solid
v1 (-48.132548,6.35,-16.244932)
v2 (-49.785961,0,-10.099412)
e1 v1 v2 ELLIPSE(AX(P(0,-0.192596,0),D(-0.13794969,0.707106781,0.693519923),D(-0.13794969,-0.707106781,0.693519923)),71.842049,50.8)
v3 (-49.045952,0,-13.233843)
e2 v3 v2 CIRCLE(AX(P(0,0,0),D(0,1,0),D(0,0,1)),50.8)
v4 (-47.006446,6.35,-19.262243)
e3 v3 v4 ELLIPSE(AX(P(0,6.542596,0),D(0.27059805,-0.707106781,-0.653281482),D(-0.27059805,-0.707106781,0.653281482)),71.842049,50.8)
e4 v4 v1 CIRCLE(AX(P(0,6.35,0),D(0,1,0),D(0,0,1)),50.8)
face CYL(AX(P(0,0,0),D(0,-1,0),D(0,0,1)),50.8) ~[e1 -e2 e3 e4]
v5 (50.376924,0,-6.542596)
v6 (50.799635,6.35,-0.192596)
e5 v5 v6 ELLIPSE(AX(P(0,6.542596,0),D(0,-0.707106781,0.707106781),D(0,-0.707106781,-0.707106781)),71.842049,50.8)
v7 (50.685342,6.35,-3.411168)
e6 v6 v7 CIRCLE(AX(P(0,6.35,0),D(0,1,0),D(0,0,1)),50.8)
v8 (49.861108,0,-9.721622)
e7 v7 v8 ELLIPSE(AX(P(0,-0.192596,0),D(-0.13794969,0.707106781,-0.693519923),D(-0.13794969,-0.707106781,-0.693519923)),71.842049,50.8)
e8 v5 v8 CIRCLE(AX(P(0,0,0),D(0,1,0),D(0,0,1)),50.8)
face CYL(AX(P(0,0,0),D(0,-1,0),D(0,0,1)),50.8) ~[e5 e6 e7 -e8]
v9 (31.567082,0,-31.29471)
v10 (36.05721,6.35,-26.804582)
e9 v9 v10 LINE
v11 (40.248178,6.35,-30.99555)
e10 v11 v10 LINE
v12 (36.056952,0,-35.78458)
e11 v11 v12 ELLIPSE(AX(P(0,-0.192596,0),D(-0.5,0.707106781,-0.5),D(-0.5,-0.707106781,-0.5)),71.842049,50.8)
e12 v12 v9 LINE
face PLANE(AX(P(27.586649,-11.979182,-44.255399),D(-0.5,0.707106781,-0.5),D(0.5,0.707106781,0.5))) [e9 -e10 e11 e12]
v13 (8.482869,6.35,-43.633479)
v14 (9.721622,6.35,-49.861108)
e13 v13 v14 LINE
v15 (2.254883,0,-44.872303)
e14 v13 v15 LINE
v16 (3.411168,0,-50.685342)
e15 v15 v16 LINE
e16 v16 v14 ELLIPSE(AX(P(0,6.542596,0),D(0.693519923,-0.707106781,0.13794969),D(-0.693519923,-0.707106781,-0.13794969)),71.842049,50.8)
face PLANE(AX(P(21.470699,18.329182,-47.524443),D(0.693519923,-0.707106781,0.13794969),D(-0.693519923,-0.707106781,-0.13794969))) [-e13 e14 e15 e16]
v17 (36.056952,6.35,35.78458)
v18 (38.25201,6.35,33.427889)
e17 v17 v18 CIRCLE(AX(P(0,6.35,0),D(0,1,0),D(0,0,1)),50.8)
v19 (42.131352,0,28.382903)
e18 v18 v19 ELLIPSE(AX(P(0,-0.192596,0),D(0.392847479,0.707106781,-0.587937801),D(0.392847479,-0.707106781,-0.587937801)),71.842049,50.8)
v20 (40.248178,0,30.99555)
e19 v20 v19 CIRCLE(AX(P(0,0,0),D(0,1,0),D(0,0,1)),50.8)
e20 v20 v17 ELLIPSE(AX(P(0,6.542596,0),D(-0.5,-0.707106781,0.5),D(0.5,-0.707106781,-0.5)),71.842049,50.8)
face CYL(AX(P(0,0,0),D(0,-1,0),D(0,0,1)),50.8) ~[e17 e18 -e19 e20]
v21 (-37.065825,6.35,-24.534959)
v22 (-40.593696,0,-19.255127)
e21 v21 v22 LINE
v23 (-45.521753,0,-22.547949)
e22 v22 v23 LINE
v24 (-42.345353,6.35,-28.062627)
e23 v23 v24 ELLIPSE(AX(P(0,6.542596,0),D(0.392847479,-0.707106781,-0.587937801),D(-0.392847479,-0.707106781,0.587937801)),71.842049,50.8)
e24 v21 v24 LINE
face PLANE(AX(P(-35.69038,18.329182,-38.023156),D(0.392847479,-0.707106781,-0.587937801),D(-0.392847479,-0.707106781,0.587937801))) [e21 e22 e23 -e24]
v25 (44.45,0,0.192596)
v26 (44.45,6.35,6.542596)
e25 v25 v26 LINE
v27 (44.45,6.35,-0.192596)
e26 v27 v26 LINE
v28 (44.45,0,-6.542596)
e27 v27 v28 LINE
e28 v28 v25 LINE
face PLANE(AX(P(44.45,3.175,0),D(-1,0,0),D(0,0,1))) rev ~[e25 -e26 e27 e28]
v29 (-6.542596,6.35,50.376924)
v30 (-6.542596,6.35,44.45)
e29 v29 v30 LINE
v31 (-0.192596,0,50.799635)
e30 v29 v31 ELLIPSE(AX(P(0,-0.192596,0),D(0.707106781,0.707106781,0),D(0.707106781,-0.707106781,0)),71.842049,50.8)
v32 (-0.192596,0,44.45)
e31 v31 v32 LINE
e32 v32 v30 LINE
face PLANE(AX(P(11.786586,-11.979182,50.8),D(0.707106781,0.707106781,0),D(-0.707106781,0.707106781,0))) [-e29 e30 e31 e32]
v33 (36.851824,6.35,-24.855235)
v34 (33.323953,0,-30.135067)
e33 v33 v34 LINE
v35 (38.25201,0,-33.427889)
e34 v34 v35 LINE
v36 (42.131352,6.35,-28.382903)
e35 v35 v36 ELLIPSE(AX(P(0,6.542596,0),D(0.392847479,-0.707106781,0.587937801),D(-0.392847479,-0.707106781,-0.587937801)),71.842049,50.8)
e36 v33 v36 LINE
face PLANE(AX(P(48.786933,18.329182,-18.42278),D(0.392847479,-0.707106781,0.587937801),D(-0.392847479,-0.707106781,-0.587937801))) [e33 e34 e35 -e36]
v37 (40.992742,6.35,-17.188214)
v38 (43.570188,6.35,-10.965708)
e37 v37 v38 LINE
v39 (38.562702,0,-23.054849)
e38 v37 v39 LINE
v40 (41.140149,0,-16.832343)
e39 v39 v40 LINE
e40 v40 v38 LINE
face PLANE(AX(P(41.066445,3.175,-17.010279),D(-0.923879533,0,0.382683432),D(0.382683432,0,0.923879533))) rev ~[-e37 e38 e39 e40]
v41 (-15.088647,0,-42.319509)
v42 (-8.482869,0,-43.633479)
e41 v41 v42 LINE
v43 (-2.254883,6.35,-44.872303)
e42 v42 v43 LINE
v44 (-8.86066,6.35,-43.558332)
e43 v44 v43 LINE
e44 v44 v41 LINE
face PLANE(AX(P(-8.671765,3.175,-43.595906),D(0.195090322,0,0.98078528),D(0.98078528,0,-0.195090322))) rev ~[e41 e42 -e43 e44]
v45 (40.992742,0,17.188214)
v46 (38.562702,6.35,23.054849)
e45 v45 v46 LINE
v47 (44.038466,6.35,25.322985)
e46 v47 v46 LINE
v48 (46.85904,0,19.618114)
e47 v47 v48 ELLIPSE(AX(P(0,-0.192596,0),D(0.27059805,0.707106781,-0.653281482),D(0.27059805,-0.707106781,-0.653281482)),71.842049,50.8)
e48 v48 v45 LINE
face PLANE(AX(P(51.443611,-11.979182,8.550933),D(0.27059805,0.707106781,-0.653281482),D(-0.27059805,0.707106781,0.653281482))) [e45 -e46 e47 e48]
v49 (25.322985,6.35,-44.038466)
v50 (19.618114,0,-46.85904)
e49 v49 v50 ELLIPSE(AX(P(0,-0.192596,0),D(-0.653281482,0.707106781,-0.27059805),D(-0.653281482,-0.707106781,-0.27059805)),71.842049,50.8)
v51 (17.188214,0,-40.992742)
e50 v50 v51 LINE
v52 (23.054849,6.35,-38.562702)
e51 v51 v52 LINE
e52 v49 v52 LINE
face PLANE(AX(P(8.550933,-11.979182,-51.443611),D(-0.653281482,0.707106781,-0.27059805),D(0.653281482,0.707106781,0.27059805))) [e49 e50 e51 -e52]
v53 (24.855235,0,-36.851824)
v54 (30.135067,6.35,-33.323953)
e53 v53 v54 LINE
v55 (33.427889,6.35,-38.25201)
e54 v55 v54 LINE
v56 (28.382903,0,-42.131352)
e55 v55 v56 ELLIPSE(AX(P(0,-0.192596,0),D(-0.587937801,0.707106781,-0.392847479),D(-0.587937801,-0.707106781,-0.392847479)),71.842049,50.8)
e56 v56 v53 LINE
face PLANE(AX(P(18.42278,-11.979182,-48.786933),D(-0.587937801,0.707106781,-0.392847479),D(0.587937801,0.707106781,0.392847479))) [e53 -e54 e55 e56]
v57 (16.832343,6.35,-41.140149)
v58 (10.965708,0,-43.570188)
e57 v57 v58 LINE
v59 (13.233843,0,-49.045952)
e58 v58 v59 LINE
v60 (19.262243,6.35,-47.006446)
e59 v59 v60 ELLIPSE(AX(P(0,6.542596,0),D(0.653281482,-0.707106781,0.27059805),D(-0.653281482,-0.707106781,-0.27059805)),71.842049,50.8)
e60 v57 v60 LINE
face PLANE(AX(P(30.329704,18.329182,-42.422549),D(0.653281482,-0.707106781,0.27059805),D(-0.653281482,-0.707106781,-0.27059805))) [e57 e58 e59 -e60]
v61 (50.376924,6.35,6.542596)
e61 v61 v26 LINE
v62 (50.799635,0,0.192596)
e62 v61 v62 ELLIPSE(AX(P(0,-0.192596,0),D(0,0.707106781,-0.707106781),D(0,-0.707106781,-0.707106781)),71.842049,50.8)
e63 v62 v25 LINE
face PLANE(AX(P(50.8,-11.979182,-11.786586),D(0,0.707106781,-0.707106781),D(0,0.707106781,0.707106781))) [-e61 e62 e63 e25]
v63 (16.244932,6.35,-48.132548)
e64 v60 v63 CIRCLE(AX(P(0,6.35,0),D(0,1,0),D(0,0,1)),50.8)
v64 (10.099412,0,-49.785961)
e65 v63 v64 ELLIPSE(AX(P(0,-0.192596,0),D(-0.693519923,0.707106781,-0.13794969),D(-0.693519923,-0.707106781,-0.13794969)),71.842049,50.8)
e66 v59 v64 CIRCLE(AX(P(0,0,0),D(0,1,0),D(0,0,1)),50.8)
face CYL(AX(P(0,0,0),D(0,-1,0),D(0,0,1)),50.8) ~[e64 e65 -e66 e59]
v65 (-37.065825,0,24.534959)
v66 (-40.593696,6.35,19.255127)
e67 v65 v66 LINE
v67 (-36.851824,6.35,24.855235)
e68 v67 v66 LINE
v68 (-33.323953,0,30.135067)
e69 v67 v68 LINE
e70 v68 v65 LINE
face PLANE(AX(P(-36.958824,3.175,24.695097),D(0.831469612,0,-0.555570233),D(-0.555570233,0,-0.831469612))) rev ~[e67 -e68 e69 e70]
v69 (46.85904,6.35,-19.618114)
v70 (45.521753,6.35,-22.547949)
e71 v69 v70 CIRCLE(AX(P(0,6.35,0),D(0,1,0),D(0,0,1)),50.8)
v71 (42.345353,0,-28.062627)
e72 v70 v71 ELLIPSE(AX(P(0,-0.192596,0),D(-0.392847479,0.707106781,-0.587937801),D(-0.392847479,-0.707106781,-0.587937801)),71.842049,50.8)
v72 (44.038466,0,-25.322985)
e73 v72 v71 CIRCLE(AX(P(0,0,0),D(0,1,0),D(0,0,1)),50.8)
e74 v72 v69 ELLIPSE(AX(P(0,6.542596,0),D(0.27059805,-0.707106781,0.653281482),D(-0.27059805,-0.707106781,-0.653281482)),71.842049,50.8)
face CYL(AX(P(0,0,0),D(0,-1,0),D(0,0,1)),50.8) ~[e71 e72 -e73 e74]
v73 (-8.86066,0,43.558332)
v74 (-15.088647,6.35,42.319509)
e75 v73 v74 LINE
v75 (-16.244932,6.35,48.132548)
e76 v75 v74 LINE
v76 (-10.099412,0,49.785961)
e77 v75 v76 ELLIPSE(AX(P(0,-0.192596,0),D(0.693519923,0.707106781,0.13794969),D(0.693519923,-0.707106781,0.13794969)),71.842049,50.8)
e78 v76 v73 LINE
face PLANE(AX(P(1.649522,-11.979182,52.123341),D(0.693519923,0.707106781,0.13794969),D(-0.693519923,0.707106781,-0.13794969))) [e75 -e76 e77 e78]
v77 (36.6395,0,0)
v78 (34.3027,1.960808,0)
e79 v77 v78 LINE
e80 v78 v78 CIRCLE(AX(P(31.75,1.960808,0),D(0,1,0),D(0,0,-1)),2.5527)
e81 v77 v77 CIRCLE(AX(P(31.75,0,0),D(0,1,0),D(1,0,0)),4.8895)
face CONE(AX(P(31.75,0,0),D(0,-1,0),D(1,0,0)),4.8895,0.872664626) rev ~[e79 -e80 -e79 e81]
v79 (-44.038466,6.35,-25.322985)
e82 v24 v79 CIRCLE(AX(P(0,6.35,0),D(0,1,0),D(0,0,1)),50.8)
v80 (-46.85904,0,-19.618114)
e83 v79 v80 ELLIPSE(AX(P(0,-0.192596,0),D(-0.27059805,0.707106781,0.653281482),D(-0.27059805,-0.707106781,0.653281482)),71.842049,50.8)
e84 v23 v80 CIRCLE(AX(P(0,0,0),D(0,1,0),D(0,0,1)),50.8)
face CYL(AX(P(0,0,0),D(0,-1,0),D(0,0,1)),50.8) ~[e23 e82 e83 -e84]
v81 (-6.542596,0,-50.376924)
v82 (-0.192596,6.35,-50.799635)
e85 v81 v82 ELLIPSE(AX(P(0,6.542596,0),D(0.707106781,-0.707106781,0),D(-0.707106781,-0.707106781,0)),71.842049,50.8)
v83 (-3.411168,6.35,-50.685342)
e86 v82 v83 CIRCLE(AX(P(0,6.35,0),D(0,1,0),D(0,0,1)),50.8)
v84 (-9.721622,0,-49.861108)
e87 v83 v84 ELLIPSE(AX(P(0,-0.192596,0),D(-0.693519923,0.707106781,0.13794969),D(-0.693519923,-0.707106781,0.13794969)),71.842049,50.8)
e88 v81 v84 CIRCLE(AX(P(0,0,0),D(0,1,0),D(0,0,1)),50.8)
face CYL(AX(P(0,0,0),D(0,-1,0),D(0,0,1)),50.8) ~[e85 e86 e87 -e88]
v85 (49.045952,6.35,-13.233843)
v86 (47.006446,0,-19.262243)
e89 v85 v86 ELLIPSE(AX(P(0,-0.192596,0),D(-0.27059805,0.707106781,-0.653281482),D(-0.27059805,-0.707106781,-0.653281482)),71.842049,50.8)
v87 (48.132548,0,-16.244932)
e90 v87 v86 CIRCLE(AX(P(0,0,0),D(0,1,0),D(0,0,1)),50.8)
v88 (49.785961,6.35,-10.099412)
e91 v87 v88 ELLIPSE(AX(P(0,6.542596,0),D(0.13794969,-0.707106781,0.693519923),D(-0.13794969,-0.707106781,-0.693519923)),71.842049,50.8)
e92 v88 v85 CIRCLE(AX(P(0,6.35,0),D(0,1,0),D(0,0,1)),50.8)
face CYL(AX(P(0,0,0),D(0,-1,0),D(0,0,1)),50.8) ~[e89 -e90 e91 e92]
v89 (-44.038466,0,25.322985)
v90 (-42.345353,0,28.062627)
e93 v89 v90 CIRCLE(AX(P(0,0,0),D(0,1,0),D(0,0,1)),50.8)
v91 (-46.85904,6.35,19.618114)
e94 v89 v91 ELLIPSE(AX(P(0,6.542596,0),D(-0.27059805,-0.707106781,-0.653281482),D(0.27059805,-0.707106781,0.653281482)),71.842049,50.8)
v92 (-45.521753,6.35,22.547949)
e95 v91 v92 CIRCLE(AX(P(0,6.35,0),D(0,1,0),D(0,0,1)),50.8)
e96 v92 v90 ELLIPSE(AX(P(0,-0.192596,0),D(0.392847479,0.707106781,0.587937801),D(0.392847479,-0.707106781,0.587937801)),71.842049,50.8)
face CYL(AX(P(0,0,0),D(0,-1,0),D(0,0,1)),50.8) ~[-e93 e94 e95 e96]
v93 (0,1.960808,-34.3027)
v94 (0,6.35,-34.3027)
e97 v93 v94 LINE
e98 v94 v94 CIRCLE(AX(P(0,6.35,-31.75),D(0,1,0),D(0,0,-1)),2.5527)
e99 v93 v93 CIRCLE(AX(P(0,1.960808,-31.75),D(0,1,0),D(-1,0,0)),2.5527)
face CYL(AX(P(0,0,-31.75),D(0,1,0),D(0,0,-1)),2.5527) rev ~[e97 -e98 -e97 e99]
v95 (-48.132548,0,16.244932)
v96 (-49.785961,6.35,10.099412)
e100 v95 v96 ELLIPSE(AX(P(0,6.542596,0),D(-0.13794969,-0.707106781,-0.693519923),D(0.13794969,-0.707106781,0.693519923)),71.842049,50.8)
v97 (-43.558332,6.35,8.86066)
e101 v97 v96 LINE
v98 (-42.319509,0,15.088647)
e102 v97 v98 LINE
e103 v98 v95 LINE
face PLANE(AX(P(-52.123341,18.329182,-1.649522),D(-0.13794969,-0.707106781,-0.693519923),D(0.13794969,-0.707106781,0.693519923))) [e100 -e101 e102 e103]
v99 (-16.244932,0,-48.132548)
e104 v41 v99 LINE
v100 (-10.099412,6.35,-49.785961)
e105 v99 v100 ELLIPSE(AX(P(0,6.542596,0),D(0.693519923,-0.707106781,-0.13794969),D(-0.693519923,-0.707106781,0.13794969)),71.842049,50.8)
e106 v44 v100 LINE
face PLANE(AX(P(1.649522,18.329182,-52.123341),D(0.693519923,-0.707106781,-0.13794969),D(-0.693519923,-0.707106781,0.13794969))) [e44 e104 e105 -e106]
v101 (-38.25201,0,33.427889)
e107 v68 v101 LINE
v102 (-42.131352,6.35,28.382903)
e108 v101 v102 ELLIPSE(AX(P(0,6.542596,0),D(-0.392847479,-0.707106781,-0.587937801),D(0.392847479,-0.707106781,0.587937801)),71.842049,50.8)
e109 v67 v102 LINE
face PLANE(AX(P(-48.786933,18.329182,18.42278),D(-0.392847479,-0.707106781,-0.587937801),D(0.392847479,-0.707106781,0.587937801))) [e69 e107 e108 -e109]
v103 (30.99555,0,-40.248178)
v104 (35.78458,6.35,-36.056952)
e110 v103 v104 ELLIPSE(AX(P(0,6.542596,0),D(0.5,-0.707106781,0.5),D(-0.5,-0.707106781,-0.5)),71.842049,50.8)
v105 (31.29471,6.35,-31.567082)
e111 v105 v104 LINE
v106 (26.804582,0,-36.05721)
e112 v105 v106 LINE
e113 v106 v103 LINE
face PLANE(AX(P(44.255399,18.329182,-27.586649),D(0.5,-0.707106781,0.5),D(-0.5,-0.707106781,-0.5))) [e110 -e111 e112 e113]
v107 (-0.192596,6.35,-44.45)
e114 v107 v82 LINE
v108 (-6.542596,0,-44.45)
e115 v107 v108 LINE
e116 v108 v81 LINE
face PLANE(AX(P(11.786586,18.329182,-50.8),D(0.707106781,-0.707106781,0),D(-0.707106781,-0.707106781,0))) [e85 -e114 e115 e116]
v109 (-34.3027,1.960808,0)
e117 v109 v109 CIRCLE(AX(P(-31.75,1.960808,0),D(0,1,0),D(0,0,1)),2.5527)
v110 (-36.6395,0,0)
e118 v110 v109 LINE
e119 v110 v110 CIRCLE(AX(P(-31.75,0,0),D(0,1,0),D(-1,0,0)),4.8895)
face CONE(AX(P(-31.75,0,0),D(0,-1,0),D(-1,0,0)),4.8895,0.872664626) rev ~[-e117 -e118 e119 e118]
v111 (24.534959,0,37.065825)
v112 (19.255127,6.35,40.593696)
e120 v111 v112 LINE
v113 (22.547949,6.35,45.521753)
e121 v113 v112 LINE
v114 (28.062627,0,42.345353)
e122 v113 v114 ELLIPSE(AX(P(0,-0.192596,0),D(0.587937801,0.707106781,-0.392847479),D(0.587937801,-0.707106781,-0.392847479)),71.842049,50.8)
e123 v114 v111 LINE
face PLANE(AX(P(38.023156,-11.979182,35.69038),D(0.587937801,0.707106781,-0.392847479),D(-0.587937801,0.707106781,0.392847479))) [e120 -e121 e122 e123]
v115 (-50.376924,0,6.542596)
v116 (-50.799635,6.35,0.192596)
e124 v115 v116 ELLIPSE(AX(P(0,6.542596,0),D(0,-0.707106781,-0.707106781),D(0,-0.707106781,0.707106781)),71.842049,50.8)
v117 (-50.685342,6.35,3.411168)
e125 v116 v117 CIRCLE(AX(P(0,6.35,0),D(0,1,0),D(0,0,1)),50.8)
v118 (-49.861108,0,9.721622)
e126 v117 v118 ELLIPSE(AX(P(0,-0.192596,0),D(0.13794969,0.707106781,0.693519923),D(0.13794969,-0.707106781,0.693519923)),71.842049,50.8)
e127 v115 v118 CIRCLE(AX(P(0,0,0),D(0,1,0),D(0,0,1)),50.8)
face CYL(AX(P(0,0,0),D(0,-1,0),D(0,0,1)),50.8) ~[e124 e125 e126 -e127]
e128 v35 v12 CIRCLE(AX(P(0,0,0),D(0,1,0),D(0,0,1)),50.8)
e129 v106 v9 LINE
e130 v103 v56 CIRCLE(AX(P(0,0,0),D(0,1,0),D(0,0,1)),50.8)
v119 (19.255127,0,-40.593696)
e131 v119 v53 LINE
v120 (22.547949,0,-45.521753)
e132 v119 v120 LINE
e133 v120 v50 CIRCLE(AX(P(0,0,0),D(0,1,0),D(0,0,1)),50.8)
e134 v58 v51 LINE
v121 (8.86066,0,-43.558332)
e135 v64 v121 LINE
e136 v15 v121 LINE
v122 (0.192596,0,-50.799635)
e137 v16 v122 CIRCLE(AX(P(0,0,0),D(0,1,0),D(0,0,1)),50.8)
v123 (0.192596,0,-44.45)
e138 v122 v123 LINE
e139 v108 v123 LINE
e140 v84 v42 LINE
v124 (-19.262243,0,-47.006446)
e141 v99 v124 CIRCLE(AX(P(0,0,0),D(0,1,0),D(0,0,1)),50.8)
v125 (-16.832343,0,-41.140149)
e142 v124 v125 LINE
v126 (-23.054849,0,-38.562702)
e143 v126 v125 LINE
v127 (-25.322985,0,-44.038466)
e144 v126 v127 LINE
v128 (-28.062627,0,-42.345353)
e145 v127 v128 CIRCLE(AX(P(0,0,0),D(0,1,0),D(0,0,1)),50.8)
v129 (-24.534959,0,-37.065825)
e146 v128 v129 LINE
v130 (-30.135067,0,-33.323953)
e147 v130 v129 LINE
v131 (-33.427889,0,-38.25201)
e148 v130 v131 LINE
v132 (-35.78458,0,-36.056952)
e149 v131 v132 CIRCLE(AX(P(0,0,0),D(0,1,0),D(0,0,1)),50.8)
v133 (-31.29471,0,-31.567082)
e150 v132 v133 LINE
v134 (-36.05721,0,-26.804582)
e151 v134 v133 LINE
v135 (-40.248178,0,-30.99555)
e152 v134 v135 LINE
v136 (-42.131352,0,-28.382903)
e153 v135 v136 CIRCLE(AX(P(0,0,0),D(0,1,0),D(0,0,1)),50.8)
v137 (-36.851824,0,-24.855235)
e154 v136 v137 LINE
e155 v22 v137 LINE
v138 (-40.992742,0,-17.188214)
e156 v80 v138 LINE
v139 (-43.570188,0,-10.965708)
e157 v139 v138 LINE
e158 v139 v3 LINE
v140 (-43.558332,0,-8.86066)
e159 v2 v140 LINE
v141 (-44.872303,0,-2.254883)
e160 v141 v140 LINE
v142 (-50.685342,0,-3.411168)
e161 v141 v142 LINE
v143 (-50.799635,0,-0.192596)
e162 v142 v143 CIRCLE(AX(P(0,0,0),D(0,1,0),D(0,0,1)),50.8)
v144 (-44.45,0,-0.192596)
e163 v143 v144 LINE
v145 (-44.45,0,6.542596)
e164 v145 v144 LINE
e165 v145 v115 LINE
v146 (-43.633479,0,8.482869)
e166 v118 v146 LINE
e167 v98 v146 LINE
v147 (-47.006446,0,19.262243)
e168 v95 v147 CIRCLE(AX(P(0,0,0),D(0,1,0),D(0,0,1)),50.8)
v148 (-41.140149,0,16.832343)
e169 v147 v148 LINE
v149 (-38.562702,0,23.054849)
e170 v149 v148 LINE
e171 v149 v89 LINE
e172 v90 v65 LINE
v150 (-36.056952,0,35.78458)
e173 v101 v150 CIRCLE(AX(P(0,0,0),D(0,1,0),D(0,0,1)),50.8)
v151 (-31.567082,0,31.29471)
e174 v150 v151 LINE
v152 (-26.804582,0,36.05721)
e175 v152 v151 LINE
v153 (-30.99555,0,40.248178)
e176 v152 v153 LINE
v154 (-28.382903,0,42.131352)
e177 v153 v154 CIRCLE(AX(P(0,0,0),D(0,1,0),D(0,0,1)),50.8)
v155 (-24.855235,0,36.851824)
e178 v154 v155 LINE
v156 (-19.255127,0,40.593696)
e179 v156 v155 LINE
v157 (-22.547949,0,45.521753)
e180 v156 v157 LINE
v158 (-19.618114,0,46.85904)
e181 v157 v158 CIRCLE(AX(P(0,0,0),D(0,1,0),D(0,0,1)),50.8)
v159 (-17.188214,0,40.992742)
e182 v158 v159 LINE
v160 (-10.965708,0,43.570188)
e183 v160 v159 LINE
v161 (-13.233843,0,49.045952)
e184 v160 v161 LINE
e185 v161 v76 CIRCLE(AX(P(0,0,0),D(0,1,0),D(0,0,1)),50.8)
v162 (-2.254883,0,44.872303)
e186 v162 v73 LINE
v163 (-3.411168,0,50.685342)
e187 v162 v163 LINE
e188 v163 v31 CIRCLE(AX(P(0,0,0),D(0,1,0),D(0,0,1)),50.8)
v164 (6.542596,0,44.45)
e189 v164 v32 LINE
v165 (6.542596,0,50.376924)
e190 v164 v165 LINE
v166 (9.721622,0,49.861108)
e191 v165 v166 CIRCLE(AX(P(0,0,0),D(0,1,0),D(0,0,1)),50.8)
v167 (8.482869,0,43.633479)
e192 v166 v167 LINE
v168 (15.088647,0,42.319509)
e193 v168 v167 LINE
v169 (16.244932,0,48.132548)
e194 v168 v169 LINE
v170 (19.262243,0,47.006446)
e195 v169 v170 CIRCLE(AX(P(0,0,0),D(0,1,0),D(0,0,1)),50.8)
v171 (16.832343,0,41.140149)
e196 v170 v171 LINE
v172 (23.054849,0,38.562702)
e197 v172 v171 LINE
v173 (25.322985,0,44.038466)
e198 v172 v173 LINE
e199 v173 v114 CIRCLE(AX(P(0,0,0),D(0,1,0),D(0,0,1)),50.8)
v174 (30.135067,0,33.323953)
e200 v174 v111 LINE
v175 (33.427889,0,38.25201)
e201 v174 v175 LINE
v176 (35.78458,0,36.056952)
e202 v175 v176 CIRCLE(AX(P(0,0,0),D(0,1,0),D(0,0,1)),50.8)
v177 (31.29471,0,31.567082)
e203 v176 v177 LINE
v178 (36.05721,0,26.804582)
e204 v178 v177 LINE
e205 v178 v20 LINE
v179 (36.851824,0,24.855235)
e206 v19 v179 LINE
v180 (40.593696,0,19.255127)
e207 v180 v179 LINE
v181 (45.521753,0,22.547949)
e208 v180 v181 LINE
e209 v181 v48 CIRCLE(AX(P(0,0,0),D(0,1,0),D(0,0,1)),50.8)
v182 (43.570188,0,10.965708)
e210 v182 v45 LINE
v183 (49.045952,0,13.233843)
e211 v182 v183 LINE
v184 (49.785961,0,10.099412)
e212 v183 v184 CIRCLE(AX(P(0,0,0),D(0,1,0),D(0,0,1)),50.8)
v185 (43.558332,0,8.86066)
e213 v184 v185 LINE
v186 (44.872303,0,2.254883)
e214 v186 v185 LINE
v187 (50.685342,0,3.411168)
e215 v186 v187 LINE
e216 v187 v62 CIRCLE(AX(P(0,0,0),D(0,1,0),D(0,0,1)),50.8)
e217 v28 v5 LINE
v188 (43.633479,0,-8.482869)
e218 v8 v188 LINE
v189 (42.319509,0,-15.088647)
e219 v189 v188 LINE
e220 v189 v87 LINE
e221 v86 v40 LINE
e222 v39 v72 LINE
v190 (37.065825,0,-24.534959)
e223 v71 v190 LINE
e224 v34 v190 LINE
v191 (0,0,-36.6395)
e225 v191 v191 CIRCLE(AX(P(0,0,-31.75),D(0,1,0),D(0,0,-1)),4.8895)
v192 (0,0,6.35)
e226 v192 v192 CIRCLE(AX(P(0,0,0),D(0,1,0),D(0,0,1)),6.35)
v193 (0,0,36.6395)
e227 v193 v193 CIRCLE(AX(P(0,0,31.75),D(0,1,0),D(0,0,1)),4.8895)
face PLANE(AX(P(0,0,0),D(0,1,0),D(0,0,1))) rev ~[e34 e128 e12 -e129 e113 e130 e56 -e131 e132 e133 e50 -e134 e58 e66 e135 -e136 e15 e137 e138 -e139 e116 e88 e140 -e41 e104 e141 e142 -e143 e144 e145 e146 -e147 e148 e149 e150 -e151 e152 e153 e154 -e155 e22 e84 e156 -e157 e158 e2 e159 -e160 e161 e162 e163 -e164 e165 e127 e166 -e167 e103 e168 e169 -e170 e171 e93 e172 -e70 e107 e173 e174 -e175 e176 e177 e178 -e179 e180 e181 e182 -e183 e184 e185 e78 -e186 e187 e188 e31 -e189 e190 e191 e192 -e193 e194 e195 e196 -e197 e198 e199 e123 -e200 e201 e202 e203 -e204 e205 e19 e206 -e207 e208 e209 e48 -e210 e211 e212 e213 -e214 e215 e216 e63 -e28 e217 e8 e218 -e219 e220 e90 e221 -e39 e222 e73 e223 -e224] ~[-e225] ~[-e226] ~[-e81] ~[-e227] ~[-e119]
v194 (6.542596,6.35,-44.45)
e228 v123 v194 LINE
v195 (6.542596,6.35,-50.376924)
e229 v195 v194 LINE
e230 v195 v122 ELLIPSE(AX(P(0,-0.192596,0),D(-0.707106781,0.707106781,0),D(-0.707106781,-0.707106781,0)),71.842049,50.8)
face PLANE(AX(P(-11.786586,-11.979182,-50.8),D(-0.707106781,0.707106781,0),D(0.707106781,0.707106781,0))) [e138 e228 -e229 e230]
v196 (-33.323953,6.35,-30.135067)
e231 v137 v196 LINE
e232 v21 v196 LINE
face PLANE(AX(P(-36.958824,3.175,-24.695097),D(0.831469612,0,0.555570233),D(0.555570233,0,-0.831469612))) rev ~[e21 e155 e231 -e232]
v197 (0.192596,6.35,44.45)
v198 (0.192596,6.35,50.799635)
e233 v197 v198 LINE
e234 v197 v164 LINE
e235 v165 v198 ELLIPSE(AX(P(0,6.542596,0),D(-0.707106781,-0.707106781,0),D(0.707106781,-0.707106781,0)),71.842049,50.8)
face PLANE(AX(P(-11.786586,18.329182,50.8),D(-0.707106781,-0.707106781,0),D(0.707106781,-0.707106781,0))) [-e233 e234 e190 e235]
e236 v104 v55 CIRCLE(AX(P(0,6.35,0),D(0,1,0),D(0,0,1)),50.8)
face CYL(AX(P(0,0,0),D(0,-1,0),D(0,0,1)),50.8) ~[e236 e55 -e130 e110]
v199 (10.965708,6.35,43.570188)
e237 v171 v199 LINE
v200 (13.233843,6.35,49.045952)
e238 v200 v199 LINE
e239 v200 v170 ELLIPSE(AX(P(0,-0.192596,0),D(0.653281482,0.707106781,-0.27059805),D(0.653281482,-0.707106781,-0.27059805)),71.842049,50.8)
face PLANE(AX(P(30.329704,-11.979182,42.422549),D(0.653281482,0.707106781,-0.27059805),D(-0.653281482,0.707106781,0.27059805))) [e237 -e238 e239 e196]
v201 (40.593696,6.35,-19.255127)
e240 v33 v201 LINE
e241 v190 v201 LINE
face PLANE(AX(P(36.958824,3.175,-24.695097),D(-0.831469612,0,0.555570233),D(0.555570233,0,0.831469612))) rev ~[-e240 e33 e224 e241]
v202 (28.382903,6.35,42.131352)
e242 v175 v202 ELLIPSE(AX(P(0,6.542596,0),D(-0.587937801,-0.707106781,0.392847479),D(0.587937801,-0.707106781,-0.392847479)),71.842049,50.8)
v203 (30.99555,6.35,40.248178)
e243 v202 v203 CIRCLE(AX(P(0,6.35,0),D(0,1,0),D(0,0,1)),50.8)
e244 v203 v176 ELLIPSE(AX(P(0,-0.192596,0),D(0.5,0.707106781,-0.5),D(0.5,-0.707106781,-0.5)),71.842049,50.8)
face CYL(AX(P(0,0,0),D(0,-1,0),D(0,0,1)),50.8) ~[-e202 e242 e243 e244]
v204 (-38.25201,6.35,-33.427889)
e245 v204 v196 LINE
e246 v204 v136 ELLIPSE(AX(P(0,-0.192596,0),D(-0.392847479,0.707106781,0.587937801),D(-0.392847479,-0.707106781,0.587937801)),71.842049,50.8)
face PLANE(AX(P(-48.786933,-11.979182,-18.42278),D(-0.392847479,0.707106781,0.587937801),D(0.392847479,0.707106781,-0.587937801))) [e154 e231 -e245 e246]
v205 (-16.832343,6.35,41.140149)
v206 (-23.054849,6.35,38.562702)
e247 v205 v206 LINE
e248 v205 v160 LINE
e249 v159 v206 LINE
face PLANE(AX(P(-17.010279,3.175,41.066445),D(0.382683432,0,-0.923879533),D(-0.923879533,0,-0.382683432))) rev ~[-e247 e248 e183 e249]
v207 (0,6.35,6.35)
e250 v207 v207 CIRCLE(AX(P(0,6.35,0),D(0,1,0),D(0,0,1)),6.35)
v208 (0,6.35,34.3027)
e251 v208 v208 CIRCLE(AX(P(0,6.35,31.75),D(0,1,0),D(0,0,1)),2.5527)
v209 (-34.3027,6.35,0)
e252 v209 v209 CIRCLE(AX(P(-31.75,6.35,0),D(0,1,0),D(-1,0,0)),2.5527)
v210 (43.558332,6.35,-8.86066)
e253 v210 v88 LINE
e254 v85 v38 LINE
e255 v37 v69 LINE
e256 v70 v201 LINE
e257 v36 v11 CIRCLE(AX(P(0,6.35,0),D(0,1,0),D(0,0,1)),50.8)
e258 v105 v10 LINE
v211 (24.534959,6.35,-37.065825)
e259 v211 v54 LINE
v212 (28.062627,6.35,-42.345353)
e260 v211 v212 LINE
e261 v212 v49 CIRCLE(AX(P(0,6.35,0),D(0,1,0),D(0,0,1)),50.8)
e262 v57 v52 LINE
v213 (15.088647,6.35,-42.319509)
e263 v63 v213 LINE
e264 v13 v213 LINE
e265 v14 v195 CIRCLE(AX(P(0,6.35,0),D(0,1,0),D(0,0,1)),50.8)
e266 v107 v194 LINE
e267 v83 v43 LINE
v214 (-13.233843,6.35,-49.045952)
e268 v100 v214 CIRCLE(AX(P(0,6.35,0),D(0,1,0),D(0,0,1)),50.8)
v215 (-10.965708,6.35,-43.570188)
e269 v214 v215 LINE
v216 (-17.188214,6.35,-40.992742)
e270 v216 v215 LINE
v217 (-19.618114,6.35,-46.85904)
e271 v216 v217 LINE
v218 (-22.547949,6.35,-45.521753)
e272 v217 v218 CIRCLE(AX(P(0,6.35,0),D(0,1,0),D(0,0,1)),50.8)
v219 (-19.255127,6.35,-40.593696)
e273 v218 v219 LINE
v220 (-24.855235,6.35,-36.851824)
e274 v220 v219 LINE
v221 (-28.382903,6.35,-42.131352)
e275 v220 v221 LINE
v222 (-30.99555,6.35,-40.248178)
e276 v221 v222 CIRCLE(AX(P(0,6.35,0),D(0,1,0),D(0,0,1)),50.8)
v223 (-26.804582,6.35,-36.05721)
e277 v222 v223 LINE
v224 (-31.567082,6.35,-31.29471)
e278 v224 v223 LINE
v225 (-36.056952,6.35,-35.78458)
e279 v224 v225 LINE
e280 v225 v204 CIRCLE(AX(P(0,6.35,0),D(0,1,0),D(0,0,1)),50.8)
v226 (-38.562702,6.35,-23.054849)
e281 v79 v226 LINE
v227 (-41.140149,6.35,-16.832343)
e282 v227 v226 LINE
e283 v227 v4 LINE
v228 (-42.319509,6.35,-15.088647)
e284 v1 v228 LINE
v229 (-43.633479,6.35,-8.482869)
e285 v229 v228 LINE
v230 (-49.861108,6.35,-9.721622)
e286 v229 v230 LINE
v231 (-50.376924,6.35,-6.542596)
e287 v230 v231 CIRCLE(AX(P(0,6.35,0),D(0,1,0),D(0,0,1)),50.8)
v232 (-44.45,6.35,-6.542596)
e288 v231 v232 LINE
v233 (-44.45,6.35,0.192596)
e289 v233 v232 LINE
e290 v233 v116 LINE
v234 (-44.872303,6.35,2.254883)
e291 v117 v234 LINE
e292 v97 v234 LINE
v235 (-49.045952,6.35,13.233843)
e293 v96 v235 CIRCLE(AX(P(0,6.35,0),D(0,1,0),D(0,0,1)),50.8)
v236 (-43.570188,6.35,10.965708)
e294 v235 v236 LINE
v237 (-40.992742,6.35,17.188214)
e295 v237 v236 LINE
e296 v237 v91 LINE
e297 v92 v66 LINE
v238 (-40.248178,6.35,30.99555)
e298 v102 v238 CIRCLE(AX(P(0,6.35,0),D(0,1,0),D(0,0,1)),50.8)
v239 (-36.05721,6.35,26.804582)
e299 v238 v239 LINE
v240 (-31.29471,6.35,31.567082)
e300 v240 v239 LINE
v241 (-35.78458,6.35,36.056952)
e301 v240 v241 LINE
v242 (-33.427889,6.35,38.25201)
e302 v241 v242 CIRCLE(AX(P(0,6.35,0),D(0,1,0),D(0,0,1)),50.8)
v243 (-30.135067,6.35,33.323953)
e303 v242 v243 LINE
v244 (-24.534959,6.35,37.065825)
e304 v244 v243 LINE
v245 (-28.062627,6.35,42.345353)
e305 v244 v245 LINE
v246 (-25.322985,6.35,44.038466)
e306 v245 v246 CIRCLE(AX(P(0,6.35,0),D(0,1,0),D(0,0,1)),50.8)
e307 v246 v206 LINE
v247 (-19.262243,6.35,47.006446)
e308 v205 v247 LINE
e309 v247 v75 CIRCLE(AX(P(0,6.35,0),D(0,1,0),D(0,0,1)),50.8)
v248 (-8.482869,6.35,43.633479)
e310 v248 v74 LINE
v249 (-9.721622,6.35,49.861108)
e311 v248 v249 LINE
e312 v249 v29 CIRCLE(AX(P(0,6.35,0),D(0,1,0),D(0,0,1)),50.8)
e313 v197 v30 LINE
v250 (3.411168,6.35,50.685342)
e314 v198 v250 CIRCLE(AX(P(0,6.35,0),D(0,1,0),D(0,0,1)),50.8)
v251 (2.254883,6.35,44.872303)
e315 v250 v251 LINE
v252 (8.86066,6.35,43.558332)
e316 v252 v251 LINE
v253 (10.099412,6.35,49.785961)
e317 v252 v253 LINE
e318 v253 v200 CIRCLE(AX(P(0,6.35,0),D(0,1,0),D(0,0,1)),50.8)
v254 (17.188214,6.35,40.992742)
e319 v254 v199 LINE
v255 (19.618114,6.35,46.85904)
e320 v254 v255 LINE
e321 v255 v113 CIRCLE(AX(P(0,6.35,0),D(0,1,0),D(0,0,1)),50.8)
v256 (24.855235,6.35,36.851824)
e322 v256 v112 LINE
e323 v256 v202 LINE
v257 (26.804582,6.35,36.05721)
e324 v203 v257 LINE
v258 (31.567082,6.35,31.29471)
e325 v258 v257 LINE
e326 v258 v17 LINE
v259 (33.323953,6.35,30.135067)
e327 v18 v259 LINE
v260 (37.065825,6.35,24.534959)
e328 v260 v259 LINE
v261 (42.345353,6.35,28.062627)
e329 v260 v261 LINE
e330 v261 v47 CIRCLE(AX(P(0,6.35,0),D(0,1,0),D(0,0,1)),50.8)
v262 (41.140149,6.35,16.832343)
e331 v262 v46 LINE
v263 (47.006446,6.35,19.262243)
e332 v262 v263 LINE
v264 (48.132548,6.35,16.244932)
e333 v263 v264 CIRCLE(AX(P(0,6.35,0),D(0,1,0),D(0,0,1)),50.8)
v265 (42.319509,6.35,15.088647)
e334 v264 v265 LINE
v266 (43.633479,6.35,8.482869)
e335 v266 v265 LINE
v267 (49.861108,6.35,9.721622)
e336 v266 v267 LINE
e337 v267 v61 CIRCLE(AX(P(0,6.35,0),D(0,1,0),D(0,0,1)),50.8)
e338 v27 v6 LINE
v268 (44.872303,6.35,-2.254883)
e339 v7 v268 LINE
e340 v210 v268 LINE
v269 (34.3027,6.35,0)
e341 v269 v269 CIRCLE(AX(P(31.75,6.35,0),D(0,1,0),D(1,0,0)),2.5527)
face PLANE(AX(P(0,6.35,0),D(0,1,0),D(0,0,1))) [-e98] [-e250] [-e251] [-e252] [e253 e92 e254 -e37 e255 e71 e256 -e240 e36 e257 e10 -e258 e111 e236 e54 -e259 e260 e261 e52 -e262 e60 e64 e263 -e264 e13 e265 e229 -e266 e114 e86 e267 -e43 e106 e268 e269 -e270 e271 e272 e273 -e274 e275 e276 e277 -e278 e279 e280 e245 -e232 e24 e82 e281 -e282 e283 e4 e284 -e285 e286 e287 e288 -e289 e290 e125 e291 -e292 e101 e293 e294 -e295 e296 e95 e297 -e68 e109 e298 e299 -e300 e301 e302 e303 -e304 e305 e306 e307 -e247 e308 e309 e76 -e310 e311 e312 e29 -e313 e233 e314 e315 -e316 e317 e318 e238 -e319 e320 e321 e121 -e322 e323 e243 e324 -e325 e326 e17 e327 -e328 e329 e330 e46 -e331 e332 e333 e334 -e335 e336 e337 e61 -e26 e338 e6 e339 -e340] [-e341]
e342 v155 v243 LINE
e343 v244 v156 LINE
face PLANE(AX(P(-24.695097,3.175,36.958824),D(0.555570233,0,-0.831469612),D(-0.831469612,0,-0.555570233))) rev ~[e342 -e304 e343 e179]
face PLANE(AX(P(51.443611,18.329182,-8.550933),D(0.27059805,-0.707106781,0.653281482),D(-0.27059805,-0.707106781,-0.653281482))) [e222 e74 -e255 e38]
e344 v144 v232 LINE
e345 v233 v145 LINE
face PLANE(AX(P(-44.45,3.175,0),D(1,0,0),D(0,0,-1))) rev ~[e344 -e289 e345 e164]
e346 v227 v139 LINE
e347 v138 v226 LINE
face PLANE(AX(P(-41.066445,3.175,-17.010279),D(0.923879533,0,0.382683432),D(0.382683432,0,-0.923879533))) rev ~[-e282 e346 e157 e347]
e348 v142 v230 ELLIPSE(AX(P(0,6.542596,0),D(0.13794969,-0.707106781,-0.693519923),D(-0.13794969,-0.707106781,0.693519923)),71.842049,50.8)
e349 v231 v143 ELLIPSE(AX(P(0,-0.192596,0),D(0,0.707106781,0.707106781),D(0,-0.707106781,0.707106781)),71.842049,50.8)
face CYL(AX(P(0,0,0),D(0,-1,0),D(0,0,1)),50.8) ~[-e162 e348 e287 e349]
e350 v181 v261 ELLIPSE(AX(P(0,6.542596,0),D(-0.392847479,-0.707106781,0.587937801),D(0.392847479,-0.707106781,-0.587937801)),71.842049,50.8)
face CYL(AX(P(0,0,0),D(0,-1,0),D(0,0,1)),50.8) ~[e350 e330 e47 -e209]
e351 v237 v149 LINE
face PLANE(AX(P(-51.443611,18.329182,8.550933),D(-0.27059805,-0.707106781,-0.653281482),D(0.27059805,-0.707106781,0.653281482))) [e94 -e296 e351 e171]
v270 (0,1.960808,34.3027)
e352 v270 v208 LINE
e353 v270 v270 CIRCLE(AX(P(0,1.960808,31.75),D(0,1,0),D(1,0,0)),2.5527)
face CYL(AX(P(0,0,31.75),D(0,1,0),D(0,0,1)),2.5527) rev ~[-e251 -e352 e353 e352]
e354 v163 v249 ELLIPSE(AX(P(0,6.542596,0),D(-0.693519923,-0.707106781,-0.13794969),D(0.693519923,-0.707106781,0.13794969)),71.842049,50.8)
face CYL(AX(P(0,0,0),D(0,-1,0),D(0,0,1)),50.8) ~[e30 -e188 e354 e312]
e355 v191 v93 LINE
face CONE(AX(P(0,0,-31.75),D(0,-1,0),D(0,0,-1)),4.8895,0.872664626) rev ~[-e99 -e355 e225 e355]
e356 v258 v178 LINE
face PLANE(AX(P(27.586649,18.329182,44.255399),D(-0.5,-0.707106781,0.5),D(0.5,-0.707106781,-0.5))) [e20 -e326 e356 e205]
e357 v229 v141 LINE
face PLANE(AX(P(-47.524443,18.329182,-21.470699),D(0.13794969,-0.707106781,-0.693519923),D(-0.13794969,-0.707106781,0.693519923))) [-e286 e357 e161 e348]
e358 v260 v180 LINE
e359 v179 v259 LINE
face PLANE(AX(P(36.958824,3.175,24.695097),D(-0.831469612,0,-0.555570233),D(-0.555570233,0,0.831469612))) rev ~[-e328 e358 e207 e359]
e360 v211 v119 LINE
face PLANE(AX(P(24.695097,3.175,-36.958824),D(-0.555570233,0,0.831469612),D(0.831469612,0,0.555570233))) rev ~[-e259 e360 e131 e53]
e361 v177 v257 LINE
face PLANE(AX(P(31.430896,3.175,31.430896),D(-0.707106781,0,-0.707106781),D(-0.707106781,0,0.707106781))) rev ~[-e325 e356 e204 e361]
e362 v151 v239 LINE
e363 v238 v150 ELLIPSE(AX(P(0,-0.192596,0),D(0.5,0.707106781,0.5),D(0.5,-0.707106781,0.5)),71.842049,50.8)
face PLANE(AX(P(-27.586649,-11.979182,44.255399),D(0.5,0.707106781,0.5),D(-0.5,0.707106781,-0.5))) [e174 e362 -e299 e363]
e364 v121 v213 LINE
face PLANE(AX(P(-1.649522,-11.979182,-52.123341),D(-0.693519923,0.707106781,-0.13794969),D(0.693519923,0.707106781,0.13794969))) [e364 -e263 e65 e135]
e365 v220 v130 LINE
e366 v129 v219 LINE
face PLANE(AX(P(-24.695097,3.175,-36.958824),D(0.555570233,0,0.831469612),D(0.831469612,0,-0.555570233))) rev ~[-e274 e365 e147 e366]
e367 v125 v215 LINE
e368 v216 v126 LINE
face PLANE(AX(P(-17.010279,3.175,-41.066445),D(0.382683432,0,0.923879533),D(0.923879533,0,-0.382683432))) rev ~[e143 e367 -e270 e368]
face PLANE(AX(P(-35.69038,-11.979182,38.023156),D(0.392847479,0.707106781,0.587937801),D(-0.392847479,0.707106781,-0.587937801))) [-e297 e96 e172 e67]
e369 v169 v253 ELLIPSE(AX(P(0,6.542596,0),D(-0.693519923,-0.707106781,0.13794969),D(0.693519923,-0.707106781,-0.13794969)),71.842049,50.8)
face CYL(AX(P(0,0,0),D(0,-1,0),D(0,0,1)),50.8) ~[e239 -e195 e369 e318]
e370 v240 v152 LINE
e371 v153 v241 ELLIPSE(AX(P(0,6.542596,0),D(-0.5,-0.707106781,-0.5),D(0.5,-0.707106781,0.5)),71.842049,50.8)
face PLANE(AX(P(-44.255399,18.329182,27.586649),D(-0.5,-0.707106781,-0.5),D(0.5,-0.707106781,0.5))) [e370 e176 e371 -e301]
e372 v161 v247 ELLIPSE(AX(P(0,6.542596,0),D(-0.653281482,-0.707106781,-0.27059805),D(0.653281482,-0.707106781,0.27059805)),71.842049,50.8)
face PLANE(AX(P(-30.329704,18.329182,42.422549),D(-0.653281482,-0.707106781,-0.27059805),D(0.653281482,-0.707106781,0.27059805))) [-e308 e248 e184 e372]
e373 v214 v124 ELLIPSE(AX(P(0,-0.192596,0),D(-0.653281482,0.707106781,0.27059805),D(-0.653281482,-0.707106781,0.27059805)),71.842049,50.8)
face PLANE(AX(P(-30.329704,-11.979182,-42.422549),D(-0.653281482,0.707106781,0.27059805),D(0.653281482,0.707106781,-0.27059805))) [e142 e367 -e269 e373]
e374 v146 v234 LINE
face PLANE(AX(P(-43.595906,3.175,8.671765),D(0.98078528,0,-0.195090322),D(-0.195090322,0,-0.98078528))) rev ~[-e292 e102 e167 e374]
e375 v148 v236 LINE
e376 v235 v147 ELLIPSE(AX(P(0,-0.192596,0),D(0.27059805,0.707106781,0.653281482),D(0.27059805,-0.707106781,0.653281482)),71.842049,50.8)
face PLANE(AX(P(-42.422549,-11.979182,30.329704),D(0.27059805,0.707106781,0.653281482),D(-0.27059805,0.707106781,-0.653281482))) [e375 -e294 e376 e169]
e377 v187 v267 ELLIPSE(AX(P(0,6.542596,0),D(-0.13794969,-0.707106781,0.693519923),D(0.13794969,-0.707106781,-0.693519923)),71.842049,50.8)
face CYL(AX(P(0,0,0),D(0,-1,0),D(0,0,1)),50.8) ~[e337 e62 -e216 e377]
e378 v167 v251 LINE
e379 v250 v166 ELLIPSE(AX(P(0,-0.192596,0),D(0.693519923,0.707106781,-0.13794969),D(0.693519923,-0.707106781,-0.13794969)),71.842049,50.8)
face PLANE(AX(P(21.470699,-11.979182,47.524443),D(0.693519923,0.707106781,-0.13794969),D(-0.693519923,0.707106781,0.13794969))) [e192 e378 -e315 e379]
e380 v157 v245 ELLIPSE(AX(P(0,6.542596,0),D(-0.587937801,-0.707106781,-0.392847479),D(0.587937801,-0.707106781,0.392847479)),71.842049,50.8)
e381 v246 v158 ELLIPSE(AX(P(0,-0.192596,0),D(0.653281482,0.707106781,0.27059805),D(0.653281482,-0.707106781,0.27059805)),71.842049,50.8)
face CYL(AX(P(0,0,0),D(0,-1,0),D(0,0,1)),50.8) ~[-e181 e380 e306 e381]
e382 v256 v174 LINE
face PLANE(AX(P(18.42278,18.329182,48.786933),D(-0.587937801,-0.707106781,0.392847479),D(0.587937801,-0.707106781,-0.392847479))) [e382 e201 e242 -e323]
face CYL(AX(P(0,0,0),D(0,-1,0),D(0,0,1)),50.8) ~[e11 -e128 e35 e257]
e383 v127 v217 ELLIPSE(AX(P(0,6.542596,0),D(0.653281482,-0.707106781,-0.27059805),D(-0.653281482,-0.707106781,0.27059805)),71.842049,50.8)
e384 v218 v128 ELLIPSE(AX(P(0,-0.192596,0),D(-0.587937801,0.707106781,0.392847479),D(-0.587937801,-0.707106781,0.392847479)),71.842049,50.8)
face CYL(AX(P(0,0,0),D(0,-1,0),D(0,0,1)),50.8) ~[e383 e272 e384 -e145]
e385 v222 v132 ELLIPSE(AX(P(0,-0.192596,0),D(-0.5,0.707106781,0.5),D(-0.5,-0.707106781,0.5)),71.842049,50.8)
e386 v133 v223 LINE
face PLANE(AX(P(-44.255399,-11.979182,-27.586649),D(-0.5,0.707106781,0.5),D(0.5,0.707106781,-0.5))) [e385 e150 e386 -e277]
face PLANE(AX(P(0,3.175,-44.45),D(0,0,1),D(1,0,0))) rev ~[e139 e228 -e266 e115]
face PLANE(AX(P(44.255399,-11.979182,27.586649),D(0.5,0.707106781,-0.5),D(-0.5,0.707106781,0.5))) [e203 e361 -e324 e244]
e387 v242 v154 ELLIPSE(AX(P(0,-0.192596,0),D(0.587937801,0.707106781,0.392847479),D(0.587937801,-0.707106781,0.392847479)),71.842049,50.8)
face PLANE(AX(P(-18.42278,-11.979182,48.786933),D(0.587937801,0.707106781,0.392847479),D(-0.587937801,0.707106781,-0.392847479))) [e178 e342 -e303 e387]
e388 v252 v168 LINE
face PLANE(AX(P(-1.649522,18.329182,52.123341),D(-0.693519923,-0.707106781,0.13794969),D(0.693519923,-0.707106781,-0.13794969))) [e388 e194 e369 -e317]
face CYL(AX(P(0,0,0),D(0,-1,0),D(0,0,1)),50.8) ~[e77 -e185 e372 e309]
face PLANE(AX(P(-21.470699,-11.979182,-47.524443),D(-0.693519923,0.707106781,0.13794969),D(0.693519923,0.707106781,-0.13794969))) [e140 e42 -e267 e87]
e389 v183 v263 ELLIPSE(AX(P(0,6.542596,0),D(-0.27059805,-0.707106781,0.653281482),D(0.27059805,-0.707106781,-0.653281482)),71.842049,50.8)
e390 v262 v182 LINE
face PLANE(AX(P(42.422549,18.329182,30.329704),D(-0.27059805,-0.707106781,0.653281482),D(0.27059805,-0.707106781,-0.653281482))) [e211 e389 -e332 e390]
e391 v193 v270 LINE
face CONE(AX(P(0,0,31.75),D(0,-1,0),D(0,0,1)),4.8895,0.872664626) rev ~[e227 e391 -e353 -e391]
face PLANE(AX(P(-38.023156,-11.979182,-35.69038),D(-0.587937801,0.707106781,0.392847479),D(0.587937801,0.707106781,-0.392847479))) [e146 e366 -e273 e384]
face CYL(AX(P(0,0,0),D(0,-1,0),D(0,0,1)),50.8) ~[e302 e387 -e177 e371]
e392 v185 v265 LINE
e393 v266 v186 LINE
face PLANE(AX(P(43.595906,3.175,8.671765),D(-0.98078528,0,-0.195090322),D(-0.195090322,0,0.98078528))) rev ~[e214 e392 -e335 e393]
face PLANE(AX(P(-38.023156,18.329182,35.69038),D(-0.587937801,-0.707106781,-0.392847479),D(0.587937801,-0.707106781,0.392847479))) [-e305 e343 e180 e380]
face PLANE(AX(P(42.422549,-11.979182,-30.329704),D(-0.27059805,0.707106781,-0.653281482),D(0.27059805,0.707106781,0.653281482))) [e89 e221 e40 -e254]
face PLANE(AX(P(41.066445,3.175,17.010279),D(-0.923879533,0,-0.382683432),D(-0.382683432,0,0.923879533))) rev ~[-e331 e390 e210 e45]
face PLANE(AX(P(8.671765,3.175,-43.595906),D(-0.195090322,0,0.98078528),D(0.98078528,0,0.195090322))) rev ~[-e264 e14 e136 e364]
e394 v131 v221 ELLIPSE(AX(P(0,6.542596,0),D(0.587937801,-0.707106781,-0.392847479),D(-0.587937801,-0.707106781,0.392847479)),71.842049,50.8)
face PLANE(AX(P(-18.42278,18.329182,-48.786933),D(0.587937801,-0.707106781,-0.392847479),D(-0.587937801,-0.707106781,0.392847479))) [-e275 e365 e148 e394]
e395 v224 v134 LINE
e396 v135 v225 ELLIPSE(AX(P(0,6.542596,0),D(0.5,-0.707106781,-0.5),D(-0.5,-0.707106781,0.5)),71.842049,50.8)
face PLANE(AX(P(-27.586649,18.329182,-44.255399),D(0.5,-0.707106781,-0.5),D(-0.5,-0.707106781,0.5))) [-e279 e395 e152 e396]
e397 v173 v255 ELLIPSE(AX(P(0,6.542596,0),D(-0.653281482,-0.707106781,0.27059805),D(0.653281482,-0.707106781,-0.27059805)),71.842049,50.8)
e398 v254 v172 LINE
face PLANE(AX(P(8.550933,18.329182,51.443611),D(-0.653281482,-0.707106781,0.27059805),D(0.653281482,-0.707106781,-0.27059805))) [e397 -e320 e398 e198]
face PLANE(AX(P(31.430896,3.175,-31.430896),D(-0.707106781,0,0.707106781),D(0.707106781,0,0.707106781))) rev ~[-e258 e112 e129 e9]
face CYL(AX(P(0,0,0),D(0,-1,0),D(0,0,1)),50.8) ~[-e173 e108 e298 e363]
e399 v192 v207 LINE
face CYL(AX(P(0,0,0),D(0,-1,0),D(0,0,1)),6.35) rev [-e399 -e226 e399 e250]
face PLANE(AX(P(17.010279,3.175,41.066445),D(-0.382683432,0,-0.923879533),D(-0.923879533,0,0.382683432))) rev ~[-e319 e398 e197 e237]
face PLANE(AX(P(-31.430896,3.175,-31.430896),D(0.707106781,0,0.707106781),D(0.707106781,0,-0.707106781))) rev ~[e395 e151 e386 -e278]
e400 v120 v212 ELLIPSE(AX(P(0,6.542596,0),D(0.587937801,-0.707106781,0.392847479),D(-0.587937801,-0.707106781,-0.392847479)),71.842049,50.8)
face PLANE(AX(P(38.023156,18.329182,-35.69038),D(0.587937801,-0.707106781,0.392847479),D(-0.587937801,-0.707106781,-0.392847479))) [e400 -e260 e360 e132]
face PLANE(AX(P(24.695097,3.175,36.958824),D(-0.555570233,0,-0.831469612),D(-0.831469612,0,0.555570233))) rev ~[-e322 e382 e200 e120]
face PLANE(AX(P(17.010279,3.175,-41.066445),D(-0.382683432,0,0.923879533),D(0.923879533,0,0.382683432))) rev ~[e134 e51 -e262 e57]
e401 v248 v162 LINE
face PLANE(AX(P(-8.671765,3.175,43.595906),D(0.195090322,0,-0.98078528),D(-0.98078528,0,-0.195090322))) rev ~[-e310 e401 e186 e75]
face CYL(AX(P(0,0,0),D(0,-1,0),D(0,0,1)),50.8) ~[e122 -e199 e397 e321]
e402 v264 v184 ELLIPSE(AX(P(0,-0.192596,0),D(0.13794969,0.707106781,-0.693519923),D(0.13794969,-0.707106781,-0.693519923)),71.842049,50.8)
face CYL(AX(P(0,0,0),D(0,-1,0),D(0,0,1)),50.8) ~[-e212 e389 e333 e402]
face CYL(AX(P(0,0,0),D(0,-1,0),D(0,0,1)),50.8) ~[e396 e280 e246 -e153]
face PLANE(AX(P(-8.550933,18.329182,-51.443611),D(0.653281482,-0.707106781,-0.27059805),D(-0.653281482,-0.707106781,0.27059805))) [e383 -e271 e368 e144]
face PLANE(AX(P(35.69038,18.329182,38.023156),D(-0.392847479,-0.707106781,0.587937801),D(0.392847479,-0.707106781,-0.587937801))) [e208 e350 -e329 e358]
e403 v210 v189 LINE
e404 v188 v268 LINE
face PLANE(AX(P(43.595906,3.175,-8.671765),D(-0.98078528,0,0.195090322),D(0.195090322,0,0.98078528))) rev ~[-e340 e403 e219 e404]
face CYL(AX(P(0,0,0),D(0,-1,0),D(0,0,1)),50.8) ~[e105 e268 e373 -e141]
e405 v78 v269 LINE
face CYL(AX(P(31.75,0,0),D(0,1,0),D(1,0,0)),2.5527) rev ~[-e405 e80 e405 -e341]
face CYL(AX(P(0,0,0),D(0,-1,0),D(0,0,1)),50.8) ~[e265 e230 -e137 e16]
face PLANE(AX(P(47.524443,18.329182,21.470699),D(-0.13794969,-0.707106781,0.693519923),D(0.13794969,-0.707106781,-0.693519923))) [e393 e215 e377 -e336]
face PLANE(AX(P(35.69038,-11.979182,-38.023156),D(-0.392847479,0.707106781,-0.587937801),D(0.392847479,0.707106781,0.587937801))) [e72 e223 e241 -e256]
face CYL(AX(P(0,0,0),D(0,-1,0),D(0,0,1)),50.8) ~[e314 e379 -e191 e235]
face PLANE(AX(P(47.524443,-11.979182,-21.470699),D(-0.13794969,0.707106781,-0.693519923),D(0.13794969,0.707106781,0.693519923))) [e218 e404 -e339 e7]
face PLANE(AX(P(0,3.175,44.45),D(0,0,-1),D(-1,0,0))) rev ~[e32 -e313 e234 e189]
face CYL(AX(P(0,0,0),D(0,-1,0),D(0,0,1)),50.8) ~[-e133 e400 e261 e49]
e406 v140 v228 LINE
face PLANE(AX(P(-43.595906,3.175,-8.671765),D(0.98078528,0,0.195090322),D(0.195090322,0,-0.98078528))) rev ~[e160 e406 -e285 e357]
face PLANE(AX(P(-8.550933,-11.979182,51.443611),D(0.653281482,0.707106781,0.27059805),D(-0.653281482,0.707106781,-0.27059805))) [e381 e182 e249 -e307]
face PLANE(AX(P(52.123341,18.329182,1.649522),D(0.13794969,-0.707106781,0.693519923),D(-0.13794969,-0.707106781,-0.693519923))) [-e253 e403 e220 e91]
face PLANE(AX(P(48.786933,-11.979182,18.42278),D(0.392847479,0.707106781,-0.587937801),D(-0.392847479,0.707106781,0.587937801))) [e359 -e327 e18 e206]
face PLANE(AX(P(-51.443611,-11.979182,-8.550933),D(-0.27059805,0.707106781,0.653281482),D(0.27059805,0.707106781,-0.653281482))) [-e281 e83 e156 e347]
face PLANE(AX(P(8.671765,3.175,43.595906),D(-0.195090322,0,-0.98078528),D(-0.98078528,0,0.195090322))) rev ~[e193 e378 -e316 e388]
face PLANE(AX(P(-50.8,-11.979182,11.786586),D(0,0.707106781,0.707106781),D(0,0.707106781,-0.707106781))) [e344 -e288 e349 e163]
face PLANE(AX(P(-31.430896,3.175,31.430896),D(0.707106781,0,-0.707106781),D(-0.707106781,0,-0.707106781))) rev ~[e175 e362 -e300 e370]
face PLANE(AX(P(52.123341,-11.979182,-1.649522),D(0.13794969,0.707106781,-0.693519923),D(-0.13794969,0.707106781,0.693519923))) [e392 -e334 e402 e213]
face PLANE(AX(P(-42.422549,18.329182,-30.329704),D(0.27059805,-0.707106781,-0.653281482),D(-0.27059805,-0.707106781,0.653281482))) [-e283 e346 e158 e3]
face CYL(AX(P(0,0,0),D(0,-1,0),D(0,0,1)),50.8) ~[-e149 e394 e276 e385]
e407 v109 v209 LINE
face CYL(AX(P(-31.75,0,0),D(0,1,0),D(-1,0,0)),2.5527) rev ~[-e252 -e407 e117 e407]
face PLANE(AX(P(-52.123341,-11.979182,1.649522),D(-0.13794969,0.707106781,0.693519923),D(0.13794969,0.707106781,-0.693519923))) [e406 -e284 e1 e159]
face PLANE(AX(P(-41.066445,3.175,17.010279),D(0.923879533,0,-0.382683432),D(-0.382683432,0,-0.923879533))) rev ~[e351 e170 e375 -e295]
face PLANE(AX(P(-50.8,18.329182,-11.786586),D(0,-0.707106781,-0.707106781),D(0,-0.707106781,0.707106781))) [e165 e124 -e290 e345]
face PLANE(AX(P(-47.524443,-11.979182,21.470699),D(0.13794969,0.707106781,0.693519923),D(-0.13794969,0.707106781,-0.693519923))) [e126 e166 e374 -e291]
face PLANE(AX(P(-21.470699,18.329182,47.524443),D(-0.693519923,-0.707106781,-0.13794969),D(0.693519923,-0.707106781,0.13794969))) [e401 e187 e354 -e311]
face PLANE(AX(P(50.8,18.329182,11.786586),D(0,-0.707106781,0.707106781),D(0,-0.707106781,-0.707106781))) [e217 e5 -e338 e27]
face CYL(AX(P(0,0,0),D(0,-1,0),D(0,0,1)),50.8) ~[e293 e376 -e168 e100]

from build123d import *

# Parameters (mm, degrees)
SKETCH1_R                                          = 50.8
SKETCH1_R_2                                        = 6.35
BOSS_EXTRUDE1_DEPTH                                = 6.35
CUT_EXTRUDE1_DEPTH                                 = 6.35
CIRPATTERN1_COUNT                                  = 32
CSK_FOR_10_FLAT_HEAD_MACHINE_SCREW_100_D           = 5.1054
CSK_FOR_10_FLAT_HEAD_MACHINE_SCREW_100_CSINK_D     = 9.779
CSK_FOR_10_FLAT_HEAD_MACHINE_SCREW_100_CSINK_ANGLE = 100
CIRPATTERN2_COUNT                                  = 4


with BuildPart() as part:
    # Sketch1 → Boss-Extrude1 (new body)
    with BuildSketch(Plane(origin=(0, 0, 0), x_dir=(1, 0, 0), z_dir=(0, 1, 0))):
        with Locations(Location((0, 0, 0), (0, 0, 270))):
            Circle(SKETCH1_R)
        with Locations(Location((0, 0, 0), (0, 0, 270))):
            Circle(SKETCH1_R_2, mode=Mode.SUBTRACT)
    extrude(amount=BOSS_EXTRUDE1_DEPTH)

    # Sketch2 → Cut-Extrude1 (cut)
    with BuildSketch(Plane.XY.offset(50.8)):
        Polygon((-11.786586159, 18.329182204), (15.154182204, -8.611586159), (11.786586159, -11.979182204), (-15.154182204, 14.961586159), align=None)
    cut_extrude1 = extrude(amount=-CUT_EXTRUDE1_DEPTH, mode=Mode.SUBTRACT)

    # CirPattern1: Cut-Extrude1 ×32 about axis
    cirpattern1_axis = Axis((0, 0, 0), (0, 1, 0))
    for i in range(1, CIRPATTERN1_COUNT):
        add(cut_extrude1.rotate(cirpattern1_axis, i * 360 / CIRPATTERN1_COUNT), mode=Mode.SUBTRACT)

    # CSK for #10 Flat Head Machine Screw (100)1 (through all)
    with Locations(Plane(origin=(0, 0, 31.75), x_dir=(0, 0, -1), z_dir=(0, -1, 0))):
        with Locations((0, 0)):
            csk_for_10_flat_head_machine_screw_100 = CounterSinkHole(CSK_FOR_10_FLAT_HEAD_MACHINE_SCREW_100_D / 2, CSK_FOR_10_FLAT_HEAD_MACHINE_SCREW_100_CSINK_D / 2, counter_sink_angle=CSK_FOR_10_FLAT_HEAD_MACHINE_SCREW_100_CSINK_ANGLE)

    # CirPattern2: CSK for #10 Flat Head Machine Screw (100)1 ×4 about axis
    cirpattern2_axis = Axis((0, 0, 0), (0, 1, 0))
    for i in range(1, CIRPATTERN2_COUNT):
        add(csk_for_10_flat_head_machine_screw_100.rotate(cirpattern2_axis, i * 360 / CIRPATTERN2_COUNT), mode=Mode.SUBTRACT)


solid = part.part
